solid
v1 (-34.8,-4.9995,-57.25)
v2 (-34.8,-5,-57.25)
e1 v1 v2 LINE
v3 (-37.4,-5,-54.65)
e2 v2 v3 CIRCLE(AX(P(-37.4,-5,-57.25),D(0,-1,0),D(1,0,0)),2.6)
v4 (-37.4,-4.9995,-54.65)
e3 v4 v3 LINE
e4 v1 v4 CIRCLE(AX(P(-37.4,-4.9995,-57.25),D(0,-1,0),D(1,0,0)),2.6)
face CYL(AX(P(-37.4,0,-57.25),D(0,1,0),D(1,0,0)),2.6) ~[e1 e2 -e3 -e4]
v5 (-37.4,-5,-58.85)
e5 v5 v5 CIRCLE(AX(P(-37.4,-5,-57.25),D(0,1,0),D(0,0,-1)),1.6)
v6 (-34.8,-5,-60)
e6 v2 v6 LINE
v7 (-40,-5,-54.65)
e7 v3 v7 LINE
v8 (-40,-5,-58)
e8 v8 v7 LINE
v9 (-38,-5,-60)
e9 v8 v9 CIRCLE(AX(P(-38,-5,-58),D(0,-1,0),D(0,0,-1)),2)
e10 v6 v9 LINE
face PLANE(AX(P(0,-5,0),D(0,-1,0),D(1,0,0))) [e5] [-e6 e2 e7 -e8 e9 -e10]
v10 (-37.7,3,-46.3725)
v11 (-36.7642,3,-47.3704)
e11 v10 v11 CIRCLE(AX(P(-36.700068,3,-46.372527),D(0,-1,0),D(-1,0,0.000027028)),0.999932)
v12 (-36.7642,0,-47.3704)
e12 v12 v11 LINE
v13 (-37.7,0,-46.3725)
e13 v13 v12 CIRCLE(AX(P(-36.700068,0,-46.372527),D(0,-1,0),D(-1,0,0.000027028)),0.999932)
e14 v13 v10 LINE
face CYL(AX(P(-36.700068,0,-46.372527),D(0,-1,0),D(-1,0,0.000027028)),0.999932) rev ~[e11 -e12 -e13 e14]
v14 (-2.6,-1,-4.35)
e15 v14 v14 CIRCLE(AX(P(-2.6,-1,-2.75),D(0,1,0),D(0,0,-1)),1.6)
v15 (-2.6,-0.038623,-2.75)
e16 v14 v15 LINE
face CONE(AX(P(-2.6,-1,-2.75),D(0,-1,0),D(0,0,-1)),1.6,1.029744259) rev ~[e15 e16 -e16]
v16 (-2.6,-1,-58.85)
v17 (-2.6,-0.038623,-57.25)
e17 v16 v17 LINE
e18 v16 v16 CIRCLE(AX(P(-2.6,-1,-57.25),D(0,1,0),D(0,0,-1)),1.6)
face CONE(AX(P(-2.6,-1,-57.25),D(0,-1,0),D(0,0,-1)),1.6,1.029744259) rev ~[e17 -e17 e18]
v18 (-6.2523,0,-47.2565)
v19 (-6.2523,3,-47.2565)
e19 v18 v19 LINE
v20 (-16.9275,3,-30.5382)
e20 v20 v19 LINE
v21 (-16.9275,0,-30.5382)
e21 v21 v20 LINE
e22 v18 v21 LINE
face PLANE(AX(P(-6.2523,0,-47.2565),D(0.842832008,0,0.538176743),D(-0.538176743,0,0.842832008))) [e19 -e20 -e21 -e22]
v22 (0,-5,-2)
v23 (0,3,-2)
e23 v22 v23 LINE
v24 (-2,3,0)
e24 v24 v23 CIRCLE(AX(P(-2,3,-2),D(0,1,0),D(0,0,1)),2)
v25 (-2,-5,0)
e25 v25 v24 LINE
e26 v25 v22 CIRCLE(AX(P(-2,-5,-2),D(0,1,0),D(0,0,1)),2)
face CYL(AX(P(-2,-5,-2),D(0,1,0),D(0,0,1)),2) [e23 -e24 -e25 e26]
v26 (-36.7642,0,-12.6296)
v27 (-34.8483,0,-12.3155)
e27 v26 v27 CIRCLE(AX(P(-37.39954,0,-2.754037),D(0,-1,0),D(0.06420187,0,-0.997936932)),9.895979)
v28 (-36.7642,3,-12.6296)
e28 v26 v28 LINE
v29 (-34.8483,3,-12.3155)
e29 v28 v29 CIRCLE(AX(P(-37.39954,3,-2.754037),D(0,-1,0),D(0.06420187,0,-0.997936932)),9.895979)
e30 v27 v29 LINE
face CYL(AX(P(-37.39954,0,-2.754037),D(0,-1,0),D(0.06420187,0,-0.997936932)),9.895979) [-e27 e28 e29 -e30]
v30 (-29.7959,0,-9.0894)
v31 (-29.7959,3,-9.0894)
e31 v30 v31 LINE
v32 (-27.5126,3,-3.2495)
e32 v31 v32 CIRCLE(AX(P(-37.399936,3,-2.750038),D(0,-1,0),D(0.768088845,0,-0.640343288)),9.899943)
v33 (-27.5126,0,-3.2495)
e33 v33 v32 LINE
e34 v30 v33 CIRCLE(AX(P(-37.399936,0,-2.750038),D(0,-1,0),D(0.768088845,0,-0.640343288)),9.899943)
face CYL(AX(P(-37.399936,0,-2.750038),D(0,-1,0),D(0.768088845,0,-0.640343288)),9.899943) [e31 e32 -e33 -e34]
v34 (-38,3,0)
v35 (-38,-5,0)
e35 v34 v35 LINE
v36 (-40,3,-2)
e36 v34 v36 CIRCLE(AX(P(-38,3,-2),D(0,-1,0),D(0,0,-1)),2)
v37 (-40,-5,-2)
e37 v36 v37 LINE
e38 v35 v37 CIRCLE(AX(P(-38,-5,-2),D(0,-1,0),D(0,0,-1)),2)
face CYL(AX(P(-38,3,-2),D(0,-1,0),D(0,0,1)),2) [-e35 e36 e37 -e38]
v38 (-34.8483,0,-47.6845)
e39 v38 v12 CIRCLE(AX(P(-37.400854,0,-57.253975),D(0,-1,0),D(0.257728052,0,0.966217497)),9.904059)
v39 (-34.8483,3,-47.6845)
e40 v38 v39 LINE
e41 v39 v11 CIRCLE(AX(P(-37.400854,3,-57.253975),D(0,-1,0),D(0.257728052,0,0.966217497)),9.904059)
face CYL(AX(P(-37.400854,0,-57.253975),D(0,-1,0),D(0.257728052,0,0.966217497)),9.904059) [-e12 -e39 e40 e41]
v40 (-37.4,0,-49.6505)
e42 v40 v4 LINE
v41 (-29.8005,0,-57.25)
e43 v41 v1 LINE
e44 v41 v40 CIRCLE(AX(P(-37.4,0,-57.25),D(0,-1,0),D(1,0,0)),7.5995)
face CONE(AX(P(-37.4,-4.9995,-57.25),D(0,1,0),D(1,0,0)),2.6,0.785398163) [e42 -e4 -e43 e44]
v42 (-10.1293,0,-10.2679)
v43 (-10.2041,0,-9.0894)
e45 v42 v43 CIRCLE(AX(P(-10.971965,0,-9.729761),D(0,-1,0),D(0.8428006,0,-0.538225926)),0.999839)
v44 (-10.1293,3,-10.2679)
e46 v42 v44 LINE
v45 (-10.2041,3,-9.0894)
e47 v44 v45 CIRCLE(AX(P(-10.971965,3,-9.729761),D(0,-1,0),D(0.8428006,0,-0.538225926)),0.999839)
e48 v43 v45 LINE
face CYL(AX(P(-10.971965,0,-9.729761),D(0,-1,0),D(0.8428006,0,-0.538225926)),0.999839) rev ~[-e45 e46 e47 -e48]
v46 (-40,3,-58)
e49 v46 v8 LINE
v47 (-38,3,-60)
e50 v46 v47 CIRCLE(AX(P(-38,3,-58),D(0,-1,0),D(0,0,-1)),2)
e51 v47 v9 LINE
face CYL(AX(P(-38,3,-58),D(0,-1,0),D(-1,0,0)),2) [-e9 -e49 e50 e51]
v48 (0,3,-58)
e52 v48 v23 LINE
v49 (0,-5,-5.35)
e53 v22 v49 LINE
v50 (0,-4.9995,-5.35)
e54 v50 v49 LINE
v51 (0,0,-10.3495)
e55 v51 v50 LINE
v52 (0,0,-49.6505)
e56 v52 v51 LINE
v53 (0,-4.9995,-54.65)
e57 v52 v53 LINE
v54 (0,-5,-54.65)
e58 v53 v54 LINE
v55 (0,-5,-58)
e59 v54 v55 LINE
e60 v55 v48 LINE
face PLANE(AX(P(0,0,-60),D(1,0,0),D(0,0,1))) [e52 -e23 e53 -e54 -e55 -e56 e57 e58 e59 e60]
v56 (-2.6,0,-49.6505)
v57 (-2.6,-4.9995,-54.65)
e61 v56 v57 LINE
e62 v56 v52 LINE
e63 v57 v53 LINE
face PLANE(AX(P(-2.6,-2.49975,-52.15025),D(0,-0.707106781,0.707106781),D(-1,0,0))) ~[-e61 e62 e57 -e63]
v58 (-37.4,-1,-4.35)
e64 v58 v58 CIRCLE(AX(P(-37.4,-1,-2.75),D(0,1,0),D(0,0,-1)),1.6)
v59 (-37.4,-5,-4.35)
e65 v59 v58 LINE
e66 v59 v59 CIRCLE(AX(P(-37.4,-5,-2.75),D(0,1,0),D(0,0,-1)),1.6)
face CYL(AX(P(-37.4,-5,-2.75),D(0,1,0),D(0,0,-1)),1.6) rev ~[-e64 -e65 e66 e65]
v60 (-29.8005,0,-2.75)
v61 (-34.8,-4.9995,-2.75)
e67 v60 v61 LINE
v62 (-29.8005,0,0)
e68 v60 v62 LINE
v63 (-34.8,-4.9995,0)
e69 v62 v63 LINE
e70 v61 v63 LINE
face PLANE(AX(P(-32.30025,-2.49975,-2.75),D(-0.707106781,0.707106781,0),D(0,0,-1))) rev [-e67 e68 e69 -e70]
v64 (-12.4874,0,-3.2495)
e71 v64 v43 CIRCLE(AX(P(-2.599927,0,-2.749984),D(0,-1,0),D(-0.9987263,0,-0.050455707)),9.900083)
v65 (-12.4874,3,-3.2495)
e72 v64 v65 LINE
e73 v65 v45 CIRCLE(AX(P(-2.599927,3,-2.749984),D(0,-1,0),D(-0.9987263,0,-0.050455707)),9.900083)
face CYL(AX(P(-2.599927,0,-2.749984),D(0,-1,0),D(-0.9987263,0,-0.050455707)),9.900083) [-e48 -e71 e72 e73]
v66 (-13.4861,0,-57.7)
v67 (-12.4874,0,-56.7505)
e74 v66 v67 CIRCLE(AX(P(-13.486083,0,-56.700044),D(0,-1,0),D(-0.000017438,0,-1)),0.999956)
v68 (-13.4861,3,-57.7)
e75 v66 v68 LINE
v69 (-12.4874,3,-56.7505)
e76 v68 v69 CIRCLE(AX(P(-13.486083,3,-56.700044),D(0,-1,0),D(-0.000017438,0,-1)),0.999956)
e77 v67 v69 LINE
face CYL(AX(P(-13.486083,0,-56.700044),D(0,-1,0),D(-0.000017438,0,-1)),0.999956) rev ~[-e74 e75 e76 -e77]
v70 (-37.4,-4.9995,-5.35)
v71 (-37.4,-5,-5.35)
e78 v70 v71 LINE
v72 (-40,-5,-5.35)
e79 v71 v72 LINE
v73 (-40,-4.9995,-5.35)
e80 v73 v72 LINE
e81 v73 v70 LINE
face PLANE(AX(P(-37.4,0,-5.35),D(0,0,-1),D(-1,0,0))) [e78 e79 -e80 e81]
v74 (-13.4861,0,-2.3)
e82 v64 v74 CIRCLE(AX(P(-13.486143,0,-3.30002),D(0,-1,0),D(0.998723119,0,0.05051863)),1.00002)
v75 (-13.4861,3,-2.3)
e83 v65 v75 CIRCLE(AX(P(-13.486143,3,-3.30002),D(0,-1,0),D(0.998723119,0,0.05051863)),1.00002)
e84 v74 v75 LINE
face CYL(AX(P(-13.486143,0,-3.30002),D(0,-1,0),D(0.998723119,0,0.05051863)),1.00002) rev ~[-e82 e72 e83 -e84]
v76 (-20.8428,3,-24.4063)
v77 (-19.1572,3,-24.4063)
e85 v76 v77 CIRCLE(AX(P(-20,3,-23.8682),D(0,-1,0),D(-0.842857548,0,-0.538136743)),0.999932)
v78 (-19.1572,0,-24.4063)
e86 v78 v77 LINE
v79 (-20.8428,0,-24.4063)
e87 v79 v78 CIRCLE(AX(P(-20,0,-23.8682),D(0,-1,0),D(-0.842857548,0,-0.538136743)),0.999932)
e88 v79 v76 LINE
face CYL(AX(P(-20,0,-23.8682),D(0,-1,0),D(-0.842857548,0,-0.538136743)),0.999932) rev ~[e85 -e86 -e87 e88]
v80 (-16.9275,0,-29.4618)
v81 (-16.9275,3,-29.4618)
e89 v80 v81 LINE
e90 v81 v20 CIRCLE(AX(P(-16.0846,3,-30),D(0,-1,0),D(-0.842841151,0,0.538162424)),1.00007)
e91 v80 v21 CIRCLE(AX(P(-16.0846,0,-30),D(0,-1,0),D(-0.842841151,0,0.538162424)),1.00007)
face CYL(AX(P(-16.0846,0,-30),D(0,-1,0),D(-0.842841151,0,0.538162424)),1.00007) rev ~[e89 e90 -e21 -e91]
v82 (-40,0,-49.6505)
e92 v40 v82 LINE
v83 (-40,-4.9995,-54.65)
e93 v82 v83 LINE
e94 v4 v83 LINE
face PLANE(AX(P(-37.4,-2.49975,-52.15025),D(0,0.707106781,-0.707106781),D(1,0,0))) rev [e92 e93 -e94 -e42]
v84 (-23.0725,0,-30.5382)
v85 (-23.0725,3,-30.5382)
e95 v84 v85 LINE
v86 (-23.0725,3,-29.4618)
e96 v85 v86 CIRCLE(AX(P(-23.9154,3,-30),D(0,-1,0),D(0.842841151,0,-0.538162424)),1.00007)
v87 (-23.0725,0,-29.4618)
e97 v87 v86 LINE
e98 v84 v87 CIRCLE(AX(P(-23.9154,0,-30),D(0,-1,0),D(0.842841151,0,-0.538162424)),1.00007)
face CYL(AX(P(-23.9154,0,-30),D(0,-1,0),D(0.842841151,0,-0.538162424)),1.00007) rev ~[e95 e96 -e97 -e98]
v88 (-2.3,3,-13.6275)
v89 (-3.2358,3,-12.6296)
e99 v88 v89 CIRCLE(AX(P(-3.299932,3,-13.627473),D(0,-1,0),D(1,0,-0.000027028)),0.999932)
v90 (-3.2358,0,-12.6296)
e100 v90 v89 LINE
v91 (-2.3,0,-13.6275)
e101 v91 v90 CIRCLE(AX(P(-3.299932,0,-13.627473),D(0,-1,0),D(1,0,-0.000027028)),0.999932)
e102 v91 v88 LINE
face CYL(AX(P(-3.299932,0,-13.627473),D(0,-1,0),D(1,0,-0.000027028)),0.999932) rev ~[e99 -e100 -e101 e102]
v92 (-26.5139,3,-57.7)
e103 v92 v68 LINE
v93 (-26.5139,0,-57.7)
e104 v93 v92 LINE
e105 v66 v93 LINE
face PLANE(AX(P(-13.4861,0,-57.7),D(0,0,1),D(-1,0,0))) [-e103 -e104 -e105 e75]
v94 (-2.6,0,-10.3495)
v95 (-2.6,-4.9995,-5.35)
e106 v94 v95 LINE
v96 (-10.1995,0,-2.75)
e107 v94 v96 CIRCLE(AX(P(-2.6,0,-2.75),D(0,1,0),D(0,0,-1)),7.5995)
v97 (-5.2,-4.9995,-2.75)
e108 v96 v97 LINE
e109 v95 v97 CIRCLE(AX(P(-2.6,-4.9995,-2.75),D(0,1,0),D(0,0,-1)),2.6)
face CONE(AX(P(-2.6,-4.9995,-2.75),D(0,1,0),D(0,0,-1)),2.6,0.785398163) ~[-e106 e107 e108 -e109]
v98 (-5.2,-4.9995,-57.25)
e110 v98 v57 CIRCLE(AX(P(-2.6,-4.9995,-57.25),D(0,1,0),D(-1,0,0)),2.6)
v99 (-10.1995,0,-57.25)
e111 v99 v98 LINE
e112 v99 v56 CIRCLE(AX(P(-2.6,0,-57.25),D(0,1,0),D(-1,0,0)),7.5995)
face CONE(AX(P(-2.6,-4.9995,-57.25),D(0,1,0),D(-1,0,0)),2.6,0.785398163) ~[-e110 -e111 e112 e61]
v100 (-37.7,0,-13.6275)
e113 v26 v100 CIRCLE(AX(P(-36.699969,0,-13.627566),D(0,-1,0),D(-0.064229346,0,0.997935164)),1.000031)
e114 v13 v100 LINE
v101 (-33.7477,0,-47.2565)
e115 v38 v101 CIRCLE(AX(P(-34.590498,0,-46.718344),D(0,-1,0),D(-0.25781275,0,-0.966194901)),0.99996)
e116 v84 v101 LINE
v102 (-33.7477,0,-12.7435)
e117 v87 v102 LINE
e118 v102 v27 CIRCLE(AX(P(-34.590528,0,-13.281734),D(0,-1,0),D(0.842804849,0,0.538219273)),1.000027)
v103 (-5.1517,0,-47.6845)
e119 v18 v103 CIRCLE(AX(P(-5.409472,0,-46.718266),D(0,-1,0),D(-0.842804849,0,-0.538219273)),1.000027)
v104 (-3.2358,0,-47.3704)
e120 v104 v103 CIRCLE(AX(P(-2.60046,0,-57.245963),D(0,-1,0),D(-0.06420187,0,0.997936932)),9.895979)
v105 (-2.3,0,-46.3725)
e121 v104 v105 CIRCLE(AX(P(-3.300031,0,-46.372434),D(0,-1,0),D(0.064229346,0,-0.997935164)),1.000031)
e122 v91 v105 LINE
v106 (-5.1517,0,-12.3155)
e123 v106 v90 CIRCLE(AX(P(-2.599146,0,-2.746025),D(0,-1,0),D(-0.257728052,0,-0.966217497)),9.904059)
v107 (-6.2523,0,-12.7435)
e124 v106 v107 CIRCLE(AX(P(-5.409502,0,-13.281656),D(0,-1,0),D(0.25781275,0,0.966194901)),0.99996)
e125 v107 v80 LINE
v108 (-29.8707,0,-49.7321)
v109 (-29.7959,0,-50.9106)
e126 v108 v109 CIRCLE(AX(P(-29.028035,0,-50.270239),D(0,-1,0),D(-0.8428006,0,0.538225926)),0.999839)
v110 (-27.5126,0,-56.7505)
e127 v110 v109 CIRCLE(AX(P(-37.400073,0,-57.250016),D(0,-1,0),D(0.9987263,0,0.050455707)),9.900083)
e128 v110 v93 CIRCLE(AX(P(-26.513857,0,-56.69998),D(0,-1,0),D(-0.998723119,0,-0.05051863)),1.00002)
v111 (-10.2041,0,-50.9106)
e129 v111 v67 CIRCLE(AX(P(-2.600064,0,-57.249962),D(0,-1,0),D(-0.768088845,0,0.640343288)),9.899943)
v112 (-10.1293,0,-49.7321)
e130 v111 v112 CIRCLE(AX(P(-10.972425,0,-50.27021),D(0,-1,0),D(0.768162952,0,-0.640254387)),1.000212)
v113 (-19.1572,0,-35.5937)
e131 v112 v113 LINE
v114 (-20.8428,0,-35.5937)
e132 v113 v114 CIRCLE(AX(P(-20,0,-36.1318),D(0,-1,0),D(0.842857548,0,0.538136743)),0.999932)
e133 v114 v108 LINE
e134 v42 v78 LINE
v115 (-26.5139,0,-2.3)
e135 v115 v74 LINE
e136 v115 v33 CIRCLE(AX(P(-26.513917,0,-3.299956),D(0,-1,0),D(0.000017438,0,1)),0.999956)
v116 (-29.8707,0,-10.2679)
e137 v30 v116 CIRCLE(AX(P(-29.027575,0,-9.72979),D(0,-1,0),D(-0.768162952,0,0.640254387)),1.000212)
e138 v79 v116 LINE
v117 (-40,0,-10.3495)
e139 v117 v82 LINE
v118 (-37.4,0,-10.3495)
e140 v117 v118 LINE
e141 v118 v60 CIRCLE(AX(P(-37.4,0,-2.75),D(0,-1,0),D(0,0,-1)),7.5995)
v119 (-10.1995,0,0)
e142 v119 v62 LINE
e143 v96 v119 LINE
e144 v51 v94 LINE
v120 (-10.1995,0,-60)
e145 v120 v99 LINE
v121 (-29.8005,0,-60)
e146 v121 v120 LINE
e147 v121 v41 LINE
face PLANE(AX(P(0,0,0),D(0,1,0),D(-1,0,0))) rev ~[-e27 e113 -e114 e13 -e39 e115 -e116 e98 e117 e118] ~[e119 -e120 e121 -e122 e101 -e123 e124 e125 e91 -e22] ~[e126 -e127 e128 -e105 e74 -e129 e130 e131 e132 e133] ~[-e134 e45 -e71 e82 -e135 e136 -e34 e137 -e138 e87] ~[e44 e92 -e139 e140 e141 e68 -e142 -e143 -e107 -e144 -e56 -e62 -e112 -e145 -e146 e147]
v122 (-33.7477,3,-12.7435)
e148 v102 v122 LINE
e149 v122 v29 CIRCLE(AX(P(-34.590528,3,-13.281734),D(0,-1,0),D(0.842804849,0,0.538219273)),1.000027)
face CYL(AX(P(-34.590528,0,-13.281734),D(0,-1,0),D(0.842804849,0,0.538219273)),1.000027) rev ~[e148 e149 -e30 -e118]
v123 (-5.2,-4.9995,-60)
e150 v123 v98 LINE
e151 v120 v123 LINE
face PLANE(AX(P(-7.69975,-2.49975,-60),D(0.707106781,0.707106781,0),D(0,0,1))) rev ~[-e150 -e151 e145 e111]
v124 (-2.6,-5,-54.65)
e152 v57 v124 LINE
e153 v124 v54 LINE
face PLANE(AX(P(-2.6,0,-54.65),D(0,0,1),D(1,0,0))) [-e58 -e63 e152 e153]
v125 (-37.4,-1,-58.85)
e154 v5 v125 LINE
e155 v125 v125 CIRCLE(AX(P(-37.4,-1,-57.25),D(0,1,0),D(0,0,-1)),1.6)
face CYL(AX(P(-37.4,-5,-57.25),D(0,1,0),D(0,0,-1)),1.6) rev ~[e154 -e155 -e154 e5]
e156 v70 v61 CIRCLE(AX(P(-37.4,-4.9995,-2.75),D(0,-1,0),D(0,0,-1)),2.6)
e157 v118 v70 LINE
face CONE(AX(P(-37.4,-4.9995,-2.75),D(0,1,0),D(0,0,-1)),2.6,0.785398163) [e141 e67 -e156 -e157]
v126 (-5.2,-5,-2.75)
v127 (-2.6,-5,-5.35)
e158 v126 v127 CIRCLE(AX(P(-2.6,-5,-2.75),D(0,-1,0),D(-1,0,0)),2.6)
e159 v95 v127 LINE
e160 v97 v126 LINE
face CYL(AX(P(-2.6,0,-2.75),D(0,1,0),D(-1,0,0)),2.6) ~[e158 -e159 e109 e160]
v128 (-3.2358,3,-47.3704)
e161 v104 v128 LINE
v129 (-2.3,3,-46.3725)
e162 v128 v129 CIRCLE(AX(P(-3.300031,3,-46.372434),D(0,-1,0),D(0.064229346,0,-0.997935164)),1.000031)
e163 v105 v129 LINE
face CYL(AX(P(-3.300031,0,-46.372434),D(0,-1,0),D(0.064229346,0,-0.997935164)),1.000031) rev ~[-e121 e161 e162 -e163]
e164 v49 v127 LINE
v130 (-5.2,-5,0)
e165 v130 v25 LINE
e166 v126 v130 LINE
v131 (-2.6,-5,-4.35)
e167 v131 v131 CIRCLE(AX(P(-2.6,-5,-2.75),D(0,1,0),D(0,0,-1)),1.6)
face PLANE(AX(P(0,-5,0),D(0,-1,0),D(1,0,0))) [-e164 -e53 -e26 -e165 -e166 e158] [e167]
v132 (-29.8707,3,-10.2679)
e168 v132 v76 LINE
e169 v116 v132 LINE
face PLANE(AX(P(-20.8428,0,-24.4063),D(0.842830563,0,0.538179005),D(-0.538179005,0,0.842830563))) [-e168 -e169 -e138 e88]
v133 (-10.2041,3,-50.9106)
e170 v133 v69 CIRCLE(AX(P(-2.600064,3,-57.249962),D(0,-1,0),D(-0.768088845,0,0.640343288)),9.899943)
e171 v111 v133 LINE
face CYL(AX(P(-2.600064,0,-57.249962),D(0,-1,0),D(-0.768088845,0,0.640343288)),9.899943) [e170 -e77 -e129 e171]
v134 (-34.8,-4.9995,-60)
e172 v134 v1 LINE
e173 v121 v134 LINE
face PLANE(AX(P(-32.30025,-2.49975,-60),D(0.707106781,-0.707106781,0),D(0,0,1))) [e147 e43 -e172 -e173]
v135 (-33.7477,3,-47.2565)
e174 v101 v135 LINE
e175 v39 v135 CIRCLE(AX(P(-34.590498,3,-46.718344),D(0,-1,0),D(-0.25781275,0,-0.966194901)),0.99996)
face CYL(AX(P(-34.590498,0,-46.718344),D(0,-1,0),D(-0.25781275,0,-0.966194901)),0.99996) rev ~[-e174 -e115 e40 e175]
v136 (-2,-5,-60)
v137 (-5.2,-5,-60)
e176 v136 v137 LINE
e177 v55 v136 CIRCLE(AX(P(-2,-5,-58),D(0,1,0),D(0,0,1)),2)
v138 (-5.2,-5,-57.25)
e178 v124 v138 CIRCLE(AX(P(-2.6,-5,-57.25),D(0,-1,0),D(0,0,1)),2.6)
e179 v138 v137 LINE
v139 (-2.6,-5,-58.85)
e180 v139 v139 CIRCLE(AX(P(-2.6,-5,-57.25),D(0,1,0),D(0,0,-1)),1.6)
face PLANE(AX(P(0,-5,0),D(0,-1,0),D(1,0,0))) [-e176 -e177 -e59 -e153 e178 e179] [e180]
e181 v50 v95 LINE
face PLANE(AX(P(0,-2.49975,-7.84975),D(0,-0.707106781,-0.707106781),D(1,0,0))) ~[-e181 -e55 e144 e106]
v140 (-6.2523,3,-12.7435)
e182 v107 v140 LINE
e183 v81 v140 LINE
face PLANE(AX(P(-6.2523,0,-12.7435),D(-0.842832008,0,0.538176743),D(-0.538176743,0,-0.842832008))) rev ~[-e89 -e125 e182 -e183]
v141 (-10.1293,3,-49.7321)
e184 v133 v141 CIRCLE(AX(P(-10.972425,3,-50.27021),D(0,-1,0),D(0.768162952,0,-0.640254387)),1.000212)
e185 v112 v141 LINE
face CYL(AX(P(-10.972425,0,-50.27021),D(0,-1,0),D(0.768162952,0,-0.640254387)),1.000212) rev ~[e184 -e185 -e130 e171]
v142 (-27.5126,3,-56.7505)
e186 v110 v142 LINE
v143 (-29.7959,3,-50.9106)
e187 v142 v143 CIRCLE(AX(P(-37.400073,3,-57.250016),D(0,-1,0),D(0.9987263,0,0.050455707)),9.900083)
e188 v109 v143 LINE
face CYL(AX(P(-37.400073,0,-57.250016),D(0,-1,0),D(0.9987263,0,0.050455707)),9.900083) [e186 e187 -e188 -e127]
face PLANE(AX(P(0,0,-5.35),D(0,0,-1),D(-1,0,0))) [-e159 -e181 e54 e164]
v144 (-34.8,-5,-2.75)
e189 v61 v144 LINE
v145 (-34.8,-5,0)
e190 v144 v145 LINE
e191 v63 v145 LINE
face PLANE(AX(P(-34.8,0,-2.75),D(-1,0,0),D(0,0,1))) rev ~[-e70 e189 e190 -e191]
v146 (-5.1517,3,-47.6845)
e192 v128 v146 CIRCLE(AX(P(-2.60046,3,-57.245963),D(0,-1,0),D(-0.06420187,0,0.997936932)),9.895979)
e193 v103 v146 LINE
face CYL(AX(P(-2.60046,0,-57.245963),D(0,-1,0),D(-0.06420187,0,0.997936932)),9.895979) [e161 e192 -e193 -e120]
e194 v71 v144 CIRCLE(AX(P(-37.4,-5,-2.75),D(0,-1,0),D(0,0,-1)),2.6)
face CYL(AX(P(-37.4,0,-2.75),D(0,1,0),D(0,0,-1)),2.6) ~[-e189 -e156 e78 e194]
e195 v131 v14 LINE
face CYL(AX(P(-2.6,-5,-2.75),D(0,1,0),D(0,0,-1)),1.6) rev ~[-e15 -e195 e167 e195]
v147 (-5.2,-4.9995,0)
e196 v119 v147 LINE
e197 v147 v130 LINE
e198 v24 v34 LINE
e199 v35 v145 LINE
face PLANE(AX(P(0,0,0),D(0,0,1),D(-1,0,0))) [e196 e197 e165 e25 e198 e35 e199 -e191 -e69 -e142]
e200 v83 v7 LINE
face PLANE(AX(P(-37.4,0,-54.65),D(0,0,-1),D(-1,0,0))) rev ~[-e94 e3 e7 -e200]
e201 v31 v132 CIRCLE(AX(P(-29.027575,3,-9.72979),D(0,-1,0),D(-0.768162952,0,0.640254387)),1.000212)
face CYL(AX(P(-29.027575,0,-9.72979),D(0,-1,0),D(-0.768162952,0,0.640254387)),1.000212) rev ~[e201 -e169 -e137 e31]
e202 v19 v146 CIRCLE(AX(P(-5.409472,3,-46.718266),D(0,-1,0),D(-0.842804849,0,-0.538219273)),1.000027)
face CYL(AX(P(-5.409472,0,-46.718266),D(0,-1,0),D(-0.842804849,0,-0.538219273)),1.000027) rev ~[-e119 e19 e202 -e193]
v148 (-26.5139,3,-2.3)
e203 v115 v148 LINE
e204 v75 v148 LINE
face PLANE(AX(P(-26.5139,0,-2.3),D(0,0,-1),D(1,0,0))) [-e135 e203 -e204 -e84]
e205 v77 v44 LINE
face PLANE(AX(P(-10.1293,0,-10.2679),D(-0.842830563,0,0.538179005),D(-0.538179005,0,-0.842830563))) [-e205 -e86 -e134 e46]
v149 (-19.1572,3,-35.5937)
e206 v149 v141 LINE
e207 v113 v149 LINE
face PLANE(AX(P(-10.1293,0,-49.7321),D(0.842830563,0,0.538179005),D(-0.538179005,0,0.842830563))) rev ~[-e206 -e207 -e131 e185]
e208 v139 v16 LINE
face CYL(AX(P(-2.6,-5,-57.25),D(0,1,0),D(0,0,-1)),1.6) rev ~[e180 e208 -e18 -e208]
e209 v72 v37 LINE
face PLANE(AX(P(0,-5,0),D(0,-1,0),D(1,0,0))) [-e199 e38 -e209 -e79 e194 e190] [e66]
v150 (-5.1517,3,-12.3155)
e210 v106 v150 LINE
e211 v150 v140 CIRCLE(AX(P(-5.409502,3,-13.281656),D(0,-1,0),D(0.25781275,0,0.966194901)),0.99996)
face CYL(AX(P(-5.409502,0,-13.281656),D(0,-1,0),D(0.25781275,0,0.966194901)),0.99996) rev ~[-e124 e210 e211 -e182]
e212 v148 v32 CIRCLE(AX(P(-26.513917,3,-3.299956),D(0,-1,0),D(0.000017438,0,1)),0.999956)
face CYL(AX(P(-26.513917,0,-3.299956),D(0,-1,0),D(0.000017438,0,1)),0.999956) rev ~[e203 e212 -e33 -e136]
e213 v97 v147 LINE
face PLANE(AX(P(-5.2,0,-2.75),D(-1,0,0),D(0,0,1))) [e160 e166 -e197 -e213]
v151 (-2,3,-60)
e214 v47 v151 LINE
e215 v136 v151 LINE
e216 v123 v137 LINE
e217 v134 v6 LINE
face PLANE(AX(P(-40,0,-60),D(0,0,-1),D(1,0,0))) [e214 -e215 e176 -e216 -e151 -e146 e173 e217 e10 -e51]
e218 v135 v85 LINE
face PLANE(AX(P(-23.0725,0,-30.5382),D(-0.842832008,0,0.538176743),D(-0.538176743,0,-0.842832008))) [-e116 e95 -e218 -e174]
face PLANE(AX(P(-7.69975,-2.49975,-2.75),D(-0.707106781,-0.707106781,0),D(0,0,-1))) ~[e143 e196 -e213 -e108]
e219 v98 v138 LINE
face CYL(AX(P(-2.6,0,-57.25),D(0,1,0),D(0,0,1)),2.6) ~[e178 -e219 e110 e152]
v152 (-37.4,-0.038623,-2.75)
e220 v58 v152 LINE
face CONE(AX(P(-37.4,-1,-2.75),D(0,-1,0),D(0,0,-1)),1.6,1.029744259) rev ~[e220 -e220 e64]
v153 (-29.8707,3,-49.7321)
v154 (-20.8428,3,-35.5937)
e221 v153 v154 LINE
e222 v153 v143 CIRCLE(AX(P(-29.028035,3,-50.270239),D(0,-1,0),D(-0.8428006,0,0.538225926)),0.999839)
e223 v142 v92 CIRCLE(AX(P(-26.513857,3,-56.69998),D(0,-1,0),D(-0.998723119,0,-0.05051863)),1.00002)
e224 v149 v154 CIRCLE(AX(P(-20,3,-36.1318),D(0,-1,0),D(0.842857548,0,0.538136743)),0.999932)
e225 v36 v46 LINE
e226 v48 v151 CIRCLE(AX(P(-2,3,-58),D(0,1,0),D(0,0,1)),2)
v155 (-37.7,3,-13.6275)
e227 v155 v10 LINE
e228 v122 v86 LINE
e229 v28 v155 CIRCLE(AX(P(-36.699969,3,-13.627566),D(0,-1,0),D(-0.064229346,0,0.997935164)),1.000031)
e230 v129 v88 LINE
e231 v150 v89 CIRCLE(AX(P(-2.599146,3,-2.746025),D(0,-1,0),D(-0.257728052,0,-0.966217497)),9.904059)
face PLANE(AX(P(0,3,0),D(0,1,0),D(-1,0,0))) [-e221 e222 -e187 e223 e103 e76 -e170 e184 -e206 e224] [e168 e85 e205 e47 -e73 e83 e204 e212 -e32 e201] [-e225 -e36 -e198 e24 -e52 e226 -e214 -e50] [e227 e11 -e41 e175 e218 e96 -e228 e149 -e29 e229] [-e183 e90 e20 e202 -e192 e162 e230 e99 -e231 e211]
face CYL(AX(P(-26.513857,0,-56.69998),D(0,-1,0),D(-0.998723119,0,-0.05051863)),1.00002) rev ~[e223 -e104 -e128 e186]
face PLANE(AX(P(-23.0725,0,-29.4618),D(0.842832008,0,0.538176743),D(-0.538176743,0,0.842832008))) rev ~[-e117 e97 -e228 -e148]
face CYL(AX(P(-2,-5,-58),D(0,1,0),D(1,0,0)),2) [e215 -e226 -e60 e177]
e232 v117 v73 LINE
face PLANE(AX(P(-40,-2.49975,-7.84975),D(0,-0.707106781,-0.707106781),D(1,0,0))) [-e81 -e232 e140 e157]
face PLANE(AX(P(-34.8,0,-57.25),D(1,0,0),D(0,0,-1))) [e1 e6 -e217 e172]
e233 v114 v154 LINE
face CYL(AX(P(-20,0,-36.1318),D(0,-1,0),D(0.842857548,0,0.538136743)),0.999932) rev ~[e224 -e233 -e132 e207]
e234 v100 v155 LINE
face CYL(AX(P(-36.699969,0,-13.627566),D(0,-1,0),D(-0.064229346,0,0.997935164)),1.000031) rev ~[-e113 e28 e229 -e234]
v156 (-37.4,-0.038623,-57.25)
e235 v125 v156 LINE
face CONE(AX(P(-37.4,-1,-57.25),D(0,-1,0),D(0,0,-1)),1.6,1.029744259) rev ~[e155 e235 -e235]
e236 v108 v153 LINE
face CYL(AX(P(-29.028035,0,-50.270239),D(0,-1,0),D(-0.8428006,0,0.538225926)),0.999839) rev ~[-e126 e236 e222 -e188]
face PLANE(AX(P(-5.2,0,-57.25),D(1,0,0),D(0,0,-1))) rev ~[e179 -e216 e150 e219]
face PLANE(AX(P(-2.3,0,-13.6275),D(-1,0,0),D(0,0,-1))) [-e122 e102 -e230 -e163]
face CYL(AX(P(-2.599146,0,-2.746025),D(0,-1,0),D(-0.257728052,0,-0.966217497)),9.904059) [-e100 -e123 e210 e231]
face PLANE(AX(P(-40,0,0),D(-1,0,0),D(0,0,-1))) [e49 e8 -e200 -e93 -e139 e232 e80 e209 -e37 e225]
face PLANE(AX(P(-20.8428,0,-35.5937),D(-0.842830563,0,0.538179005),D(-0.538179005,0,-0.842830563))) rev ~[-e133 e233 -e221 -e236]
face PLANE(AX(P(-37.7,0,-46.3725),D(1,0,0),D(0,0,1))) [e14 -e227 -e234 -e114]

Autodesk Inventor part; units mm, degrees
ref_plane "YZ Plane" through (0, 0, 0) normal (1, 0, 0) x (0, 1, 0)
ref_plane "XZ Plane" through (0, 0, 0) normal (0, 1, 0) x (-1, 0, 0)
ref_plane "XY Plane" through (0, 0, 0) normal (0, 0, 1) x (1, 0, 0)
sketch "Sketch1" plane through (0, 0, 0) normal (0, 1, 0) x (-1, 0, 0)
  line L0 (0, 0) -> (40, 0)
  line L1 (40, 0) -> (40, -60)
  line L2 (40, -60) -> (0, -60)
  line L3 (0, -60) -> (0, 0)
  circle A0 centre (2.6, -2.75) radius 1.27
  circle A1 centre (37.4, -2.75) radius 1.27
  circle A2 centre (37.4, -57.25) radius 1.27
  circle A3 centre (2.6, -57.25) radius 1.27
  dimension "d1" = 40
  dimension "d2" = 60
  dimension "d15" = 2.54
  dimension "d20" = 2.75
  dimension "d21" = 2.6
  dimension "d22" = 2.54
  dimension "d23" = 2.75
  dimension "d24" = 2.6
  dimension "d25" = 2.54
  dimension "d26" = 2.54
  dimension "d27" = 2.75
  dimension "d28" = 2.75
  dimension "d29" = 2.6
  dimension "d30" = 2.6
extrude "Extrusion1" add sketch "Sketch1" along normal blind 3 contours L0 L1 L2 L3 | A0 | A1 | A2 | A3
sketch "Sketch2" plane through (0, 0, 0) normal (0, -1, 0) x (1, 0, 0)
  line L0 (-40, 0) -> (0, 0) projected
  line L1 (0, -60) -> (-40, -60) projected
  arc A0 (-5.2, -2.75) -> (-2.6, -5.35) centre (-2.6, -2.75) ccw
  line L2 (0, 0) -> (0, -60) projected
  arc A1 (-2.6, -54.65) -> (-5.2, -57.25) centre (-2.6, -57.25) ccw
  arc A2 (-34.8, -57.25) -> (-37.4, -54.65) centre (-37.4, -57.25) ccw
  line L3 (-40, -60) -> (-40, 0) projected
  arc A3 (-37.4, -5.35) -> (-34.8, -2.75) centre (-37.4, -2.75) ccw
  line L4 (-34.8, -57.25) -> (-34.8, -60)
  line L5 (-34.8, -2.75) -> (-34.8, 0)
  line L6 (-5.2, -57.25) -> (-5.2, -60)
  line L7 (-5.2, -2.75) -> (-5.2, 0)
  line L8 (-37.4, -54.65) -> (-40, -54.65)
  line L9 (0, -5.35) -> (-2.6, -5.35)
  line L10 (-37.4, -5.35) -> (-40, -5.35)
  line L11 (-40, -54.65) -> (-37.4, -54.65)
  line L12 (-2.6, -54.65) -> (0, -54.65)
extrude "Extrusion2" add sketch "Sketch2" along normal blind 5 contours L0 L5 A3 L10 L3 | L0 L2 L9 A0 L7 | L8 A2 L4 L1 L3 | L2 L1 L6 A1 L12
sketch "Sketch4" plane through (0, -5, 0) normal (0, -1, 0) x (1, 0, 0)
  arc A0 (-2.6, -54.65) -> (-5.2, -57.25) centre (-2.6, -57.25) ccw projected
  arc A1 (-34.8, -57.25) -> (-37.4, -54.65) centre (-37.4, -57.25) ccw projected
  arc A2 (-5.2, -2.75) -> (-2.6, -5.35) centre (-2.6, -2.75) ccw projected
  arc A3 (-37.4, -5.35) -> (-34.8, -2.75) centre (-37.4, -2.75) ccw projected
  point P0 (0, 0)
hole "Hole2" at (-2.6, -5, -57.25) at (-37.4, -5, -57.25) at (-2.6, -5, -2.75) at (-37.4, -5, -2.75) direction (0, 1, 0) diameter 3.2 depth 4 tip angle 118
chamfer "Chamfer1" distance 5 angle 45 12 edges at (-1.3, 0, -54.65) (-4.4385, 0, -55.4115) (-5.2, 0, -58.625) (-35.5615, 0, -55.4115) (-34.8, 0, -58.625) (-38.7, 0, -54.65) (-35.5615, 0, -4.5885) (-38.7, 0, -5.35) (-34.8, 0, -1.375) (-1.3, 0, -5.35) (-4.4385, 0, -4.5885) (-5.2, 0, -1.375)
sketch "Sketch5" plane through (0, 0, 0) normal (0, -1, 0) x (1, 0, 0)
  line L0 (-10.2, 0) -> (-10.2, -2.75) projected
  line L1 (-29.8, 0) -> (-10.2, 0) projected
  line L2 (-29.8, -2.75) -> (-29.8, 0) projected
  arc A0 (-37.4, -10.35) -> (-29.8, -2.75) centre (-37.4, -2.75) ccw projected
  line L3 (-40, -10.35) -> (-37.4, -10.35) projected
  line L4 (-40, -49.65) -> (-40, -10.35) projected
  line L5 (-37.4, -49.65) -> (-40, -49.65) projected
  arc A1 (-29.8, -57.25) -> (-37.4, -49.65) centre (-37.4, -57.25) ccw projected
  line L6 (-29.8, -60) -> (-29.8, -57.25) projected
  line L7 (-10.2, -60) -> (-29.8, -60) projected
  line L8 (-10.2, -57.25) -> (-10.2, -60) projected
  arc A2 (-2.6, -49.65) -> (-10.2, -57.25) centre (-2.6, -57.25) ccw projected
  line L9 (0, -49.65) -> (-2.6, -49.65) projected
  line L10 (0, -10.35) -> (0, -49.65) projected
  line L11 (-2.6, -10.35) -> (0, -10.35) projected
  arc A3 (-10.2, -2.75) -> (-2.6, -10.35) centre (-2.6, -2.75) ccw projected
  line L12 (-12.5, -57.25) -> (-12.5, -57.7)
  line L13 (-13.4861, -57.7) -> (-26.5139, -57.7)
  line L14 (-27.5, -57.7) -> (-27.5, -57.25)
  line L15 (-37.4, -47.35) -> (-37.7, -47.35)
  line L16 (-37.7, -46.3725) -> (-37.7, -13.6275)
  line L17 (-37.7, -12.65) -> (-37.4, -12.65)
  line L18 (-27.5, -2.75) -> (-27.5, -2.3)
  line L19 (-26.5139, -2.3) -> (-13.4861, -2.3)
  line L20 (-12.5, -2.3) -> (-12.5, -2.75)
  line L21 (-2.6, -12.65) -> (-2.3, -12.65)
  line L22 (-2.3, -13.6275) -> (-2.3, -46.3725)
  line L23 (-2.3, -47.35) -> (-2.6, -47.35)
  line L24 (0, -60) -> (-40, -60) projected
  arc A4 (-5.2, -2.75) -> (-2.6, -5.35) centre (-2.6, -2.75) ccw projected
  circle A5 centre (-37.4, -2.75) radius 1.6 projected
  line L25 (-0.6615, -56.0122) -> (-2.3, -53.4461)
  line L26 (-4.5385, -58.4878) -> (-5.0416, -57.7)
  line L27 (-34.9584, -57.7) -> (-35.4615, -58.4878)
  line L28 (-37.7, -53.4461) -> (-39.3385, -56.0122)
  arc A6 (-3.2358, -47.3704) -> (-5.1517, -47.6845) centre (-2.6, -57.25) ccw
  arc A7 (-10.2041, -50.9106) -> (-12.4874, -56.7505) centre (-2.6, -57.25) ccw
  arc A8 (-27.5126, -56.7505) -> (-29.7959, -50.9106) centre (-37.4, -57.25) ccw
  arc A9 (-34.8483, -47.6845) -> (-36.7642, -47.3704) centre (-37.4, -57.25) ccw
  arc A10 (-36.7642, -12.6296) -> (-34.8483, -12.3155) centre (-37.4, -2.75) ccw
  arc A11 (-29.7959, -9.0894) -> (-27.5126, -3.2495) centre (-37.4, -2.75) ccw
  arc A12 (-12.4874, -3.2495) -> (-10.2041, -9.0894) centre (-2.6, -2.75) ccw
  arc A13 (-5.1517, -12.3155) -> (-3.2358, -12.6296) centre (-2.6, -2.75) ccw
  line L29 (-6.2523, -47.2565) -> (-16.9275, -30.5382)
  line L30 (-20.8428, -24.4063) -> (-29.8707, -10.2679)
  line L31 (-6.2523, -12.7435) -> (-16.9275, -29.4618)
  line L32 (-20.8428, -35.5937) -> (-29.8707, -49.7321)
  line L33 (-10.1293, -49.7321) -> (-19.1572, -35.5937)
  line L34 (-23.0725, -29.4618) -> (-33.7477, -12.7435)
  line L35 (-10.1293, -10.2679) -> (-19.1572, -24.4063)
  line L36 (-23.0725, -30.5382) -> (-33.7477, -47.2565)
  arc A14 (-3.2358, -47.3704) -> (-2.3, -46.3725) centre (-3.3, -46.3725) ccw
  arc A15 (-6.2523, -47.2565) -> (-5.1517, -47.6845) centre (-5.4095, -46.7183) ccw
  arc A16 (-10.2041, -50.9106) -> (-10.1293, -49.7321) centre (-10.9722, -50.2703) ccw
  arc A17 (-13.4861, -57.7) -> (-12.4874, -56.7505) centre (-13.4861, -56.7) ccw
  arc A18 (-27.5126, -56.7505) -> (-26.5139, -57.7) centre (-26.5139, -56.7) ccw
  arc A19 (-29.8707, -49.7321) -> (-29.7959, -50.9106) centre (-29.0278, -50.2703) ccw
  arc A20 (-34.8483, -47.6845) -> (-33.7477, -47.2565) centre (-34.5905, -46.7183) ccw
  arc A21 (-37.7, -46.3725) -> (-36.7642, -47.3704) centre (-36.7, -46.3725) ccw
  arc A22 (-36.7642, -12.6296) -> (-37.7, -13.6275) centre (-36.7, -13.6275) ccw
  arc A23 (-33.7477, -12.7435) -> (-34.8483, -12.3155) centre (-34.5905, -13.2817) ccw
  arc A24 (-23.0725, -30.5382) -> (-23.0725, -29.4618) centre (-23.9154, -30) ccw
  arc A25 (-19.1572, -35.5937) -> (-20.8428, -35.5937) centre (-20, -36.1318) ccw
  arc A26 (-16.9275, -29.4618) -> (-16.9275, -30.5382) centre (-16.0846, -30) ccw
  arc A27 (-20.8428, -24.4063) -> (-19.1572, -24.4063) centre (-20, -23.8682) ccw
  arc A28 (-5.1517, -12.3155) -> (-6.2523, -12.7435) centre (-5.4095, -13.2817) ccw
  arc A29 (-2.3, -13.6275) -> (-3.2358, -12.6296) centre (-3.3, -13.6275) ccw
  arc A30 (-10.1293, -10.2679) -> (-10.2041, -9.0894) centre (-10.9722, -9.7297) ccw
  arc A31 (-12.4874, -3.2495) -> (-13.4861, -2.3) centre (-13.4861, -3.3) ccw
  arc A32 (-26.5139, -2.3) -> (-27.5126, -3.2495) centre (-26.5139, -3.3) ccw
  arc A33 (-29.7959, -9.0894) -> (-29.8707, -10.2679) centre (-29.0278, -9.7297) ccw
  point P0 (0, 0)
  point P1 (-34.1564, -12.1035)
  point P2 (-30.2793, -9.6279)
  point P3 (-5.8436, -12.1035)
  point P4 (-9.7207, -9.6279)
  point P5 (-5.8436, -47.8965)
  point P6 (-9.7207, -50.3721)
  point P7 (-30.2793, -50.3721)
  point P8 (-34.1564, -47.8965)
  dimension "d57" = 1
extrude "Extrusion3" cut sketch "Sketch5" against normal through all contours L13 A18 A8 A19 L32 A25 L33 A16 A7 A17 | L16 A22 A10 A23 L34 A24 L36 A20 A9 A21 | L19 A31 A12 A30 L35 A27 L30 A33 A11 A32 | L22 A14 A6 A15 L29 A26 L31 A28 A13 A29
fillet "Fillet1" [suppressed]
fillet "Fillet2" radius 2 4 edges at (-40, -1, 0) (-40, -1, -60) (0, -1, -60) (0, -1, 0)
equation "\"d23\" = d20"
equation "\"d24\" = d21"
equation "\"d27\" = d23"
equation "\"d28\" = d20"
equation "\"d29\" = d21"
equation "\"d30\" = d21"
properties part number "Test_PCB_Board_4x6"
